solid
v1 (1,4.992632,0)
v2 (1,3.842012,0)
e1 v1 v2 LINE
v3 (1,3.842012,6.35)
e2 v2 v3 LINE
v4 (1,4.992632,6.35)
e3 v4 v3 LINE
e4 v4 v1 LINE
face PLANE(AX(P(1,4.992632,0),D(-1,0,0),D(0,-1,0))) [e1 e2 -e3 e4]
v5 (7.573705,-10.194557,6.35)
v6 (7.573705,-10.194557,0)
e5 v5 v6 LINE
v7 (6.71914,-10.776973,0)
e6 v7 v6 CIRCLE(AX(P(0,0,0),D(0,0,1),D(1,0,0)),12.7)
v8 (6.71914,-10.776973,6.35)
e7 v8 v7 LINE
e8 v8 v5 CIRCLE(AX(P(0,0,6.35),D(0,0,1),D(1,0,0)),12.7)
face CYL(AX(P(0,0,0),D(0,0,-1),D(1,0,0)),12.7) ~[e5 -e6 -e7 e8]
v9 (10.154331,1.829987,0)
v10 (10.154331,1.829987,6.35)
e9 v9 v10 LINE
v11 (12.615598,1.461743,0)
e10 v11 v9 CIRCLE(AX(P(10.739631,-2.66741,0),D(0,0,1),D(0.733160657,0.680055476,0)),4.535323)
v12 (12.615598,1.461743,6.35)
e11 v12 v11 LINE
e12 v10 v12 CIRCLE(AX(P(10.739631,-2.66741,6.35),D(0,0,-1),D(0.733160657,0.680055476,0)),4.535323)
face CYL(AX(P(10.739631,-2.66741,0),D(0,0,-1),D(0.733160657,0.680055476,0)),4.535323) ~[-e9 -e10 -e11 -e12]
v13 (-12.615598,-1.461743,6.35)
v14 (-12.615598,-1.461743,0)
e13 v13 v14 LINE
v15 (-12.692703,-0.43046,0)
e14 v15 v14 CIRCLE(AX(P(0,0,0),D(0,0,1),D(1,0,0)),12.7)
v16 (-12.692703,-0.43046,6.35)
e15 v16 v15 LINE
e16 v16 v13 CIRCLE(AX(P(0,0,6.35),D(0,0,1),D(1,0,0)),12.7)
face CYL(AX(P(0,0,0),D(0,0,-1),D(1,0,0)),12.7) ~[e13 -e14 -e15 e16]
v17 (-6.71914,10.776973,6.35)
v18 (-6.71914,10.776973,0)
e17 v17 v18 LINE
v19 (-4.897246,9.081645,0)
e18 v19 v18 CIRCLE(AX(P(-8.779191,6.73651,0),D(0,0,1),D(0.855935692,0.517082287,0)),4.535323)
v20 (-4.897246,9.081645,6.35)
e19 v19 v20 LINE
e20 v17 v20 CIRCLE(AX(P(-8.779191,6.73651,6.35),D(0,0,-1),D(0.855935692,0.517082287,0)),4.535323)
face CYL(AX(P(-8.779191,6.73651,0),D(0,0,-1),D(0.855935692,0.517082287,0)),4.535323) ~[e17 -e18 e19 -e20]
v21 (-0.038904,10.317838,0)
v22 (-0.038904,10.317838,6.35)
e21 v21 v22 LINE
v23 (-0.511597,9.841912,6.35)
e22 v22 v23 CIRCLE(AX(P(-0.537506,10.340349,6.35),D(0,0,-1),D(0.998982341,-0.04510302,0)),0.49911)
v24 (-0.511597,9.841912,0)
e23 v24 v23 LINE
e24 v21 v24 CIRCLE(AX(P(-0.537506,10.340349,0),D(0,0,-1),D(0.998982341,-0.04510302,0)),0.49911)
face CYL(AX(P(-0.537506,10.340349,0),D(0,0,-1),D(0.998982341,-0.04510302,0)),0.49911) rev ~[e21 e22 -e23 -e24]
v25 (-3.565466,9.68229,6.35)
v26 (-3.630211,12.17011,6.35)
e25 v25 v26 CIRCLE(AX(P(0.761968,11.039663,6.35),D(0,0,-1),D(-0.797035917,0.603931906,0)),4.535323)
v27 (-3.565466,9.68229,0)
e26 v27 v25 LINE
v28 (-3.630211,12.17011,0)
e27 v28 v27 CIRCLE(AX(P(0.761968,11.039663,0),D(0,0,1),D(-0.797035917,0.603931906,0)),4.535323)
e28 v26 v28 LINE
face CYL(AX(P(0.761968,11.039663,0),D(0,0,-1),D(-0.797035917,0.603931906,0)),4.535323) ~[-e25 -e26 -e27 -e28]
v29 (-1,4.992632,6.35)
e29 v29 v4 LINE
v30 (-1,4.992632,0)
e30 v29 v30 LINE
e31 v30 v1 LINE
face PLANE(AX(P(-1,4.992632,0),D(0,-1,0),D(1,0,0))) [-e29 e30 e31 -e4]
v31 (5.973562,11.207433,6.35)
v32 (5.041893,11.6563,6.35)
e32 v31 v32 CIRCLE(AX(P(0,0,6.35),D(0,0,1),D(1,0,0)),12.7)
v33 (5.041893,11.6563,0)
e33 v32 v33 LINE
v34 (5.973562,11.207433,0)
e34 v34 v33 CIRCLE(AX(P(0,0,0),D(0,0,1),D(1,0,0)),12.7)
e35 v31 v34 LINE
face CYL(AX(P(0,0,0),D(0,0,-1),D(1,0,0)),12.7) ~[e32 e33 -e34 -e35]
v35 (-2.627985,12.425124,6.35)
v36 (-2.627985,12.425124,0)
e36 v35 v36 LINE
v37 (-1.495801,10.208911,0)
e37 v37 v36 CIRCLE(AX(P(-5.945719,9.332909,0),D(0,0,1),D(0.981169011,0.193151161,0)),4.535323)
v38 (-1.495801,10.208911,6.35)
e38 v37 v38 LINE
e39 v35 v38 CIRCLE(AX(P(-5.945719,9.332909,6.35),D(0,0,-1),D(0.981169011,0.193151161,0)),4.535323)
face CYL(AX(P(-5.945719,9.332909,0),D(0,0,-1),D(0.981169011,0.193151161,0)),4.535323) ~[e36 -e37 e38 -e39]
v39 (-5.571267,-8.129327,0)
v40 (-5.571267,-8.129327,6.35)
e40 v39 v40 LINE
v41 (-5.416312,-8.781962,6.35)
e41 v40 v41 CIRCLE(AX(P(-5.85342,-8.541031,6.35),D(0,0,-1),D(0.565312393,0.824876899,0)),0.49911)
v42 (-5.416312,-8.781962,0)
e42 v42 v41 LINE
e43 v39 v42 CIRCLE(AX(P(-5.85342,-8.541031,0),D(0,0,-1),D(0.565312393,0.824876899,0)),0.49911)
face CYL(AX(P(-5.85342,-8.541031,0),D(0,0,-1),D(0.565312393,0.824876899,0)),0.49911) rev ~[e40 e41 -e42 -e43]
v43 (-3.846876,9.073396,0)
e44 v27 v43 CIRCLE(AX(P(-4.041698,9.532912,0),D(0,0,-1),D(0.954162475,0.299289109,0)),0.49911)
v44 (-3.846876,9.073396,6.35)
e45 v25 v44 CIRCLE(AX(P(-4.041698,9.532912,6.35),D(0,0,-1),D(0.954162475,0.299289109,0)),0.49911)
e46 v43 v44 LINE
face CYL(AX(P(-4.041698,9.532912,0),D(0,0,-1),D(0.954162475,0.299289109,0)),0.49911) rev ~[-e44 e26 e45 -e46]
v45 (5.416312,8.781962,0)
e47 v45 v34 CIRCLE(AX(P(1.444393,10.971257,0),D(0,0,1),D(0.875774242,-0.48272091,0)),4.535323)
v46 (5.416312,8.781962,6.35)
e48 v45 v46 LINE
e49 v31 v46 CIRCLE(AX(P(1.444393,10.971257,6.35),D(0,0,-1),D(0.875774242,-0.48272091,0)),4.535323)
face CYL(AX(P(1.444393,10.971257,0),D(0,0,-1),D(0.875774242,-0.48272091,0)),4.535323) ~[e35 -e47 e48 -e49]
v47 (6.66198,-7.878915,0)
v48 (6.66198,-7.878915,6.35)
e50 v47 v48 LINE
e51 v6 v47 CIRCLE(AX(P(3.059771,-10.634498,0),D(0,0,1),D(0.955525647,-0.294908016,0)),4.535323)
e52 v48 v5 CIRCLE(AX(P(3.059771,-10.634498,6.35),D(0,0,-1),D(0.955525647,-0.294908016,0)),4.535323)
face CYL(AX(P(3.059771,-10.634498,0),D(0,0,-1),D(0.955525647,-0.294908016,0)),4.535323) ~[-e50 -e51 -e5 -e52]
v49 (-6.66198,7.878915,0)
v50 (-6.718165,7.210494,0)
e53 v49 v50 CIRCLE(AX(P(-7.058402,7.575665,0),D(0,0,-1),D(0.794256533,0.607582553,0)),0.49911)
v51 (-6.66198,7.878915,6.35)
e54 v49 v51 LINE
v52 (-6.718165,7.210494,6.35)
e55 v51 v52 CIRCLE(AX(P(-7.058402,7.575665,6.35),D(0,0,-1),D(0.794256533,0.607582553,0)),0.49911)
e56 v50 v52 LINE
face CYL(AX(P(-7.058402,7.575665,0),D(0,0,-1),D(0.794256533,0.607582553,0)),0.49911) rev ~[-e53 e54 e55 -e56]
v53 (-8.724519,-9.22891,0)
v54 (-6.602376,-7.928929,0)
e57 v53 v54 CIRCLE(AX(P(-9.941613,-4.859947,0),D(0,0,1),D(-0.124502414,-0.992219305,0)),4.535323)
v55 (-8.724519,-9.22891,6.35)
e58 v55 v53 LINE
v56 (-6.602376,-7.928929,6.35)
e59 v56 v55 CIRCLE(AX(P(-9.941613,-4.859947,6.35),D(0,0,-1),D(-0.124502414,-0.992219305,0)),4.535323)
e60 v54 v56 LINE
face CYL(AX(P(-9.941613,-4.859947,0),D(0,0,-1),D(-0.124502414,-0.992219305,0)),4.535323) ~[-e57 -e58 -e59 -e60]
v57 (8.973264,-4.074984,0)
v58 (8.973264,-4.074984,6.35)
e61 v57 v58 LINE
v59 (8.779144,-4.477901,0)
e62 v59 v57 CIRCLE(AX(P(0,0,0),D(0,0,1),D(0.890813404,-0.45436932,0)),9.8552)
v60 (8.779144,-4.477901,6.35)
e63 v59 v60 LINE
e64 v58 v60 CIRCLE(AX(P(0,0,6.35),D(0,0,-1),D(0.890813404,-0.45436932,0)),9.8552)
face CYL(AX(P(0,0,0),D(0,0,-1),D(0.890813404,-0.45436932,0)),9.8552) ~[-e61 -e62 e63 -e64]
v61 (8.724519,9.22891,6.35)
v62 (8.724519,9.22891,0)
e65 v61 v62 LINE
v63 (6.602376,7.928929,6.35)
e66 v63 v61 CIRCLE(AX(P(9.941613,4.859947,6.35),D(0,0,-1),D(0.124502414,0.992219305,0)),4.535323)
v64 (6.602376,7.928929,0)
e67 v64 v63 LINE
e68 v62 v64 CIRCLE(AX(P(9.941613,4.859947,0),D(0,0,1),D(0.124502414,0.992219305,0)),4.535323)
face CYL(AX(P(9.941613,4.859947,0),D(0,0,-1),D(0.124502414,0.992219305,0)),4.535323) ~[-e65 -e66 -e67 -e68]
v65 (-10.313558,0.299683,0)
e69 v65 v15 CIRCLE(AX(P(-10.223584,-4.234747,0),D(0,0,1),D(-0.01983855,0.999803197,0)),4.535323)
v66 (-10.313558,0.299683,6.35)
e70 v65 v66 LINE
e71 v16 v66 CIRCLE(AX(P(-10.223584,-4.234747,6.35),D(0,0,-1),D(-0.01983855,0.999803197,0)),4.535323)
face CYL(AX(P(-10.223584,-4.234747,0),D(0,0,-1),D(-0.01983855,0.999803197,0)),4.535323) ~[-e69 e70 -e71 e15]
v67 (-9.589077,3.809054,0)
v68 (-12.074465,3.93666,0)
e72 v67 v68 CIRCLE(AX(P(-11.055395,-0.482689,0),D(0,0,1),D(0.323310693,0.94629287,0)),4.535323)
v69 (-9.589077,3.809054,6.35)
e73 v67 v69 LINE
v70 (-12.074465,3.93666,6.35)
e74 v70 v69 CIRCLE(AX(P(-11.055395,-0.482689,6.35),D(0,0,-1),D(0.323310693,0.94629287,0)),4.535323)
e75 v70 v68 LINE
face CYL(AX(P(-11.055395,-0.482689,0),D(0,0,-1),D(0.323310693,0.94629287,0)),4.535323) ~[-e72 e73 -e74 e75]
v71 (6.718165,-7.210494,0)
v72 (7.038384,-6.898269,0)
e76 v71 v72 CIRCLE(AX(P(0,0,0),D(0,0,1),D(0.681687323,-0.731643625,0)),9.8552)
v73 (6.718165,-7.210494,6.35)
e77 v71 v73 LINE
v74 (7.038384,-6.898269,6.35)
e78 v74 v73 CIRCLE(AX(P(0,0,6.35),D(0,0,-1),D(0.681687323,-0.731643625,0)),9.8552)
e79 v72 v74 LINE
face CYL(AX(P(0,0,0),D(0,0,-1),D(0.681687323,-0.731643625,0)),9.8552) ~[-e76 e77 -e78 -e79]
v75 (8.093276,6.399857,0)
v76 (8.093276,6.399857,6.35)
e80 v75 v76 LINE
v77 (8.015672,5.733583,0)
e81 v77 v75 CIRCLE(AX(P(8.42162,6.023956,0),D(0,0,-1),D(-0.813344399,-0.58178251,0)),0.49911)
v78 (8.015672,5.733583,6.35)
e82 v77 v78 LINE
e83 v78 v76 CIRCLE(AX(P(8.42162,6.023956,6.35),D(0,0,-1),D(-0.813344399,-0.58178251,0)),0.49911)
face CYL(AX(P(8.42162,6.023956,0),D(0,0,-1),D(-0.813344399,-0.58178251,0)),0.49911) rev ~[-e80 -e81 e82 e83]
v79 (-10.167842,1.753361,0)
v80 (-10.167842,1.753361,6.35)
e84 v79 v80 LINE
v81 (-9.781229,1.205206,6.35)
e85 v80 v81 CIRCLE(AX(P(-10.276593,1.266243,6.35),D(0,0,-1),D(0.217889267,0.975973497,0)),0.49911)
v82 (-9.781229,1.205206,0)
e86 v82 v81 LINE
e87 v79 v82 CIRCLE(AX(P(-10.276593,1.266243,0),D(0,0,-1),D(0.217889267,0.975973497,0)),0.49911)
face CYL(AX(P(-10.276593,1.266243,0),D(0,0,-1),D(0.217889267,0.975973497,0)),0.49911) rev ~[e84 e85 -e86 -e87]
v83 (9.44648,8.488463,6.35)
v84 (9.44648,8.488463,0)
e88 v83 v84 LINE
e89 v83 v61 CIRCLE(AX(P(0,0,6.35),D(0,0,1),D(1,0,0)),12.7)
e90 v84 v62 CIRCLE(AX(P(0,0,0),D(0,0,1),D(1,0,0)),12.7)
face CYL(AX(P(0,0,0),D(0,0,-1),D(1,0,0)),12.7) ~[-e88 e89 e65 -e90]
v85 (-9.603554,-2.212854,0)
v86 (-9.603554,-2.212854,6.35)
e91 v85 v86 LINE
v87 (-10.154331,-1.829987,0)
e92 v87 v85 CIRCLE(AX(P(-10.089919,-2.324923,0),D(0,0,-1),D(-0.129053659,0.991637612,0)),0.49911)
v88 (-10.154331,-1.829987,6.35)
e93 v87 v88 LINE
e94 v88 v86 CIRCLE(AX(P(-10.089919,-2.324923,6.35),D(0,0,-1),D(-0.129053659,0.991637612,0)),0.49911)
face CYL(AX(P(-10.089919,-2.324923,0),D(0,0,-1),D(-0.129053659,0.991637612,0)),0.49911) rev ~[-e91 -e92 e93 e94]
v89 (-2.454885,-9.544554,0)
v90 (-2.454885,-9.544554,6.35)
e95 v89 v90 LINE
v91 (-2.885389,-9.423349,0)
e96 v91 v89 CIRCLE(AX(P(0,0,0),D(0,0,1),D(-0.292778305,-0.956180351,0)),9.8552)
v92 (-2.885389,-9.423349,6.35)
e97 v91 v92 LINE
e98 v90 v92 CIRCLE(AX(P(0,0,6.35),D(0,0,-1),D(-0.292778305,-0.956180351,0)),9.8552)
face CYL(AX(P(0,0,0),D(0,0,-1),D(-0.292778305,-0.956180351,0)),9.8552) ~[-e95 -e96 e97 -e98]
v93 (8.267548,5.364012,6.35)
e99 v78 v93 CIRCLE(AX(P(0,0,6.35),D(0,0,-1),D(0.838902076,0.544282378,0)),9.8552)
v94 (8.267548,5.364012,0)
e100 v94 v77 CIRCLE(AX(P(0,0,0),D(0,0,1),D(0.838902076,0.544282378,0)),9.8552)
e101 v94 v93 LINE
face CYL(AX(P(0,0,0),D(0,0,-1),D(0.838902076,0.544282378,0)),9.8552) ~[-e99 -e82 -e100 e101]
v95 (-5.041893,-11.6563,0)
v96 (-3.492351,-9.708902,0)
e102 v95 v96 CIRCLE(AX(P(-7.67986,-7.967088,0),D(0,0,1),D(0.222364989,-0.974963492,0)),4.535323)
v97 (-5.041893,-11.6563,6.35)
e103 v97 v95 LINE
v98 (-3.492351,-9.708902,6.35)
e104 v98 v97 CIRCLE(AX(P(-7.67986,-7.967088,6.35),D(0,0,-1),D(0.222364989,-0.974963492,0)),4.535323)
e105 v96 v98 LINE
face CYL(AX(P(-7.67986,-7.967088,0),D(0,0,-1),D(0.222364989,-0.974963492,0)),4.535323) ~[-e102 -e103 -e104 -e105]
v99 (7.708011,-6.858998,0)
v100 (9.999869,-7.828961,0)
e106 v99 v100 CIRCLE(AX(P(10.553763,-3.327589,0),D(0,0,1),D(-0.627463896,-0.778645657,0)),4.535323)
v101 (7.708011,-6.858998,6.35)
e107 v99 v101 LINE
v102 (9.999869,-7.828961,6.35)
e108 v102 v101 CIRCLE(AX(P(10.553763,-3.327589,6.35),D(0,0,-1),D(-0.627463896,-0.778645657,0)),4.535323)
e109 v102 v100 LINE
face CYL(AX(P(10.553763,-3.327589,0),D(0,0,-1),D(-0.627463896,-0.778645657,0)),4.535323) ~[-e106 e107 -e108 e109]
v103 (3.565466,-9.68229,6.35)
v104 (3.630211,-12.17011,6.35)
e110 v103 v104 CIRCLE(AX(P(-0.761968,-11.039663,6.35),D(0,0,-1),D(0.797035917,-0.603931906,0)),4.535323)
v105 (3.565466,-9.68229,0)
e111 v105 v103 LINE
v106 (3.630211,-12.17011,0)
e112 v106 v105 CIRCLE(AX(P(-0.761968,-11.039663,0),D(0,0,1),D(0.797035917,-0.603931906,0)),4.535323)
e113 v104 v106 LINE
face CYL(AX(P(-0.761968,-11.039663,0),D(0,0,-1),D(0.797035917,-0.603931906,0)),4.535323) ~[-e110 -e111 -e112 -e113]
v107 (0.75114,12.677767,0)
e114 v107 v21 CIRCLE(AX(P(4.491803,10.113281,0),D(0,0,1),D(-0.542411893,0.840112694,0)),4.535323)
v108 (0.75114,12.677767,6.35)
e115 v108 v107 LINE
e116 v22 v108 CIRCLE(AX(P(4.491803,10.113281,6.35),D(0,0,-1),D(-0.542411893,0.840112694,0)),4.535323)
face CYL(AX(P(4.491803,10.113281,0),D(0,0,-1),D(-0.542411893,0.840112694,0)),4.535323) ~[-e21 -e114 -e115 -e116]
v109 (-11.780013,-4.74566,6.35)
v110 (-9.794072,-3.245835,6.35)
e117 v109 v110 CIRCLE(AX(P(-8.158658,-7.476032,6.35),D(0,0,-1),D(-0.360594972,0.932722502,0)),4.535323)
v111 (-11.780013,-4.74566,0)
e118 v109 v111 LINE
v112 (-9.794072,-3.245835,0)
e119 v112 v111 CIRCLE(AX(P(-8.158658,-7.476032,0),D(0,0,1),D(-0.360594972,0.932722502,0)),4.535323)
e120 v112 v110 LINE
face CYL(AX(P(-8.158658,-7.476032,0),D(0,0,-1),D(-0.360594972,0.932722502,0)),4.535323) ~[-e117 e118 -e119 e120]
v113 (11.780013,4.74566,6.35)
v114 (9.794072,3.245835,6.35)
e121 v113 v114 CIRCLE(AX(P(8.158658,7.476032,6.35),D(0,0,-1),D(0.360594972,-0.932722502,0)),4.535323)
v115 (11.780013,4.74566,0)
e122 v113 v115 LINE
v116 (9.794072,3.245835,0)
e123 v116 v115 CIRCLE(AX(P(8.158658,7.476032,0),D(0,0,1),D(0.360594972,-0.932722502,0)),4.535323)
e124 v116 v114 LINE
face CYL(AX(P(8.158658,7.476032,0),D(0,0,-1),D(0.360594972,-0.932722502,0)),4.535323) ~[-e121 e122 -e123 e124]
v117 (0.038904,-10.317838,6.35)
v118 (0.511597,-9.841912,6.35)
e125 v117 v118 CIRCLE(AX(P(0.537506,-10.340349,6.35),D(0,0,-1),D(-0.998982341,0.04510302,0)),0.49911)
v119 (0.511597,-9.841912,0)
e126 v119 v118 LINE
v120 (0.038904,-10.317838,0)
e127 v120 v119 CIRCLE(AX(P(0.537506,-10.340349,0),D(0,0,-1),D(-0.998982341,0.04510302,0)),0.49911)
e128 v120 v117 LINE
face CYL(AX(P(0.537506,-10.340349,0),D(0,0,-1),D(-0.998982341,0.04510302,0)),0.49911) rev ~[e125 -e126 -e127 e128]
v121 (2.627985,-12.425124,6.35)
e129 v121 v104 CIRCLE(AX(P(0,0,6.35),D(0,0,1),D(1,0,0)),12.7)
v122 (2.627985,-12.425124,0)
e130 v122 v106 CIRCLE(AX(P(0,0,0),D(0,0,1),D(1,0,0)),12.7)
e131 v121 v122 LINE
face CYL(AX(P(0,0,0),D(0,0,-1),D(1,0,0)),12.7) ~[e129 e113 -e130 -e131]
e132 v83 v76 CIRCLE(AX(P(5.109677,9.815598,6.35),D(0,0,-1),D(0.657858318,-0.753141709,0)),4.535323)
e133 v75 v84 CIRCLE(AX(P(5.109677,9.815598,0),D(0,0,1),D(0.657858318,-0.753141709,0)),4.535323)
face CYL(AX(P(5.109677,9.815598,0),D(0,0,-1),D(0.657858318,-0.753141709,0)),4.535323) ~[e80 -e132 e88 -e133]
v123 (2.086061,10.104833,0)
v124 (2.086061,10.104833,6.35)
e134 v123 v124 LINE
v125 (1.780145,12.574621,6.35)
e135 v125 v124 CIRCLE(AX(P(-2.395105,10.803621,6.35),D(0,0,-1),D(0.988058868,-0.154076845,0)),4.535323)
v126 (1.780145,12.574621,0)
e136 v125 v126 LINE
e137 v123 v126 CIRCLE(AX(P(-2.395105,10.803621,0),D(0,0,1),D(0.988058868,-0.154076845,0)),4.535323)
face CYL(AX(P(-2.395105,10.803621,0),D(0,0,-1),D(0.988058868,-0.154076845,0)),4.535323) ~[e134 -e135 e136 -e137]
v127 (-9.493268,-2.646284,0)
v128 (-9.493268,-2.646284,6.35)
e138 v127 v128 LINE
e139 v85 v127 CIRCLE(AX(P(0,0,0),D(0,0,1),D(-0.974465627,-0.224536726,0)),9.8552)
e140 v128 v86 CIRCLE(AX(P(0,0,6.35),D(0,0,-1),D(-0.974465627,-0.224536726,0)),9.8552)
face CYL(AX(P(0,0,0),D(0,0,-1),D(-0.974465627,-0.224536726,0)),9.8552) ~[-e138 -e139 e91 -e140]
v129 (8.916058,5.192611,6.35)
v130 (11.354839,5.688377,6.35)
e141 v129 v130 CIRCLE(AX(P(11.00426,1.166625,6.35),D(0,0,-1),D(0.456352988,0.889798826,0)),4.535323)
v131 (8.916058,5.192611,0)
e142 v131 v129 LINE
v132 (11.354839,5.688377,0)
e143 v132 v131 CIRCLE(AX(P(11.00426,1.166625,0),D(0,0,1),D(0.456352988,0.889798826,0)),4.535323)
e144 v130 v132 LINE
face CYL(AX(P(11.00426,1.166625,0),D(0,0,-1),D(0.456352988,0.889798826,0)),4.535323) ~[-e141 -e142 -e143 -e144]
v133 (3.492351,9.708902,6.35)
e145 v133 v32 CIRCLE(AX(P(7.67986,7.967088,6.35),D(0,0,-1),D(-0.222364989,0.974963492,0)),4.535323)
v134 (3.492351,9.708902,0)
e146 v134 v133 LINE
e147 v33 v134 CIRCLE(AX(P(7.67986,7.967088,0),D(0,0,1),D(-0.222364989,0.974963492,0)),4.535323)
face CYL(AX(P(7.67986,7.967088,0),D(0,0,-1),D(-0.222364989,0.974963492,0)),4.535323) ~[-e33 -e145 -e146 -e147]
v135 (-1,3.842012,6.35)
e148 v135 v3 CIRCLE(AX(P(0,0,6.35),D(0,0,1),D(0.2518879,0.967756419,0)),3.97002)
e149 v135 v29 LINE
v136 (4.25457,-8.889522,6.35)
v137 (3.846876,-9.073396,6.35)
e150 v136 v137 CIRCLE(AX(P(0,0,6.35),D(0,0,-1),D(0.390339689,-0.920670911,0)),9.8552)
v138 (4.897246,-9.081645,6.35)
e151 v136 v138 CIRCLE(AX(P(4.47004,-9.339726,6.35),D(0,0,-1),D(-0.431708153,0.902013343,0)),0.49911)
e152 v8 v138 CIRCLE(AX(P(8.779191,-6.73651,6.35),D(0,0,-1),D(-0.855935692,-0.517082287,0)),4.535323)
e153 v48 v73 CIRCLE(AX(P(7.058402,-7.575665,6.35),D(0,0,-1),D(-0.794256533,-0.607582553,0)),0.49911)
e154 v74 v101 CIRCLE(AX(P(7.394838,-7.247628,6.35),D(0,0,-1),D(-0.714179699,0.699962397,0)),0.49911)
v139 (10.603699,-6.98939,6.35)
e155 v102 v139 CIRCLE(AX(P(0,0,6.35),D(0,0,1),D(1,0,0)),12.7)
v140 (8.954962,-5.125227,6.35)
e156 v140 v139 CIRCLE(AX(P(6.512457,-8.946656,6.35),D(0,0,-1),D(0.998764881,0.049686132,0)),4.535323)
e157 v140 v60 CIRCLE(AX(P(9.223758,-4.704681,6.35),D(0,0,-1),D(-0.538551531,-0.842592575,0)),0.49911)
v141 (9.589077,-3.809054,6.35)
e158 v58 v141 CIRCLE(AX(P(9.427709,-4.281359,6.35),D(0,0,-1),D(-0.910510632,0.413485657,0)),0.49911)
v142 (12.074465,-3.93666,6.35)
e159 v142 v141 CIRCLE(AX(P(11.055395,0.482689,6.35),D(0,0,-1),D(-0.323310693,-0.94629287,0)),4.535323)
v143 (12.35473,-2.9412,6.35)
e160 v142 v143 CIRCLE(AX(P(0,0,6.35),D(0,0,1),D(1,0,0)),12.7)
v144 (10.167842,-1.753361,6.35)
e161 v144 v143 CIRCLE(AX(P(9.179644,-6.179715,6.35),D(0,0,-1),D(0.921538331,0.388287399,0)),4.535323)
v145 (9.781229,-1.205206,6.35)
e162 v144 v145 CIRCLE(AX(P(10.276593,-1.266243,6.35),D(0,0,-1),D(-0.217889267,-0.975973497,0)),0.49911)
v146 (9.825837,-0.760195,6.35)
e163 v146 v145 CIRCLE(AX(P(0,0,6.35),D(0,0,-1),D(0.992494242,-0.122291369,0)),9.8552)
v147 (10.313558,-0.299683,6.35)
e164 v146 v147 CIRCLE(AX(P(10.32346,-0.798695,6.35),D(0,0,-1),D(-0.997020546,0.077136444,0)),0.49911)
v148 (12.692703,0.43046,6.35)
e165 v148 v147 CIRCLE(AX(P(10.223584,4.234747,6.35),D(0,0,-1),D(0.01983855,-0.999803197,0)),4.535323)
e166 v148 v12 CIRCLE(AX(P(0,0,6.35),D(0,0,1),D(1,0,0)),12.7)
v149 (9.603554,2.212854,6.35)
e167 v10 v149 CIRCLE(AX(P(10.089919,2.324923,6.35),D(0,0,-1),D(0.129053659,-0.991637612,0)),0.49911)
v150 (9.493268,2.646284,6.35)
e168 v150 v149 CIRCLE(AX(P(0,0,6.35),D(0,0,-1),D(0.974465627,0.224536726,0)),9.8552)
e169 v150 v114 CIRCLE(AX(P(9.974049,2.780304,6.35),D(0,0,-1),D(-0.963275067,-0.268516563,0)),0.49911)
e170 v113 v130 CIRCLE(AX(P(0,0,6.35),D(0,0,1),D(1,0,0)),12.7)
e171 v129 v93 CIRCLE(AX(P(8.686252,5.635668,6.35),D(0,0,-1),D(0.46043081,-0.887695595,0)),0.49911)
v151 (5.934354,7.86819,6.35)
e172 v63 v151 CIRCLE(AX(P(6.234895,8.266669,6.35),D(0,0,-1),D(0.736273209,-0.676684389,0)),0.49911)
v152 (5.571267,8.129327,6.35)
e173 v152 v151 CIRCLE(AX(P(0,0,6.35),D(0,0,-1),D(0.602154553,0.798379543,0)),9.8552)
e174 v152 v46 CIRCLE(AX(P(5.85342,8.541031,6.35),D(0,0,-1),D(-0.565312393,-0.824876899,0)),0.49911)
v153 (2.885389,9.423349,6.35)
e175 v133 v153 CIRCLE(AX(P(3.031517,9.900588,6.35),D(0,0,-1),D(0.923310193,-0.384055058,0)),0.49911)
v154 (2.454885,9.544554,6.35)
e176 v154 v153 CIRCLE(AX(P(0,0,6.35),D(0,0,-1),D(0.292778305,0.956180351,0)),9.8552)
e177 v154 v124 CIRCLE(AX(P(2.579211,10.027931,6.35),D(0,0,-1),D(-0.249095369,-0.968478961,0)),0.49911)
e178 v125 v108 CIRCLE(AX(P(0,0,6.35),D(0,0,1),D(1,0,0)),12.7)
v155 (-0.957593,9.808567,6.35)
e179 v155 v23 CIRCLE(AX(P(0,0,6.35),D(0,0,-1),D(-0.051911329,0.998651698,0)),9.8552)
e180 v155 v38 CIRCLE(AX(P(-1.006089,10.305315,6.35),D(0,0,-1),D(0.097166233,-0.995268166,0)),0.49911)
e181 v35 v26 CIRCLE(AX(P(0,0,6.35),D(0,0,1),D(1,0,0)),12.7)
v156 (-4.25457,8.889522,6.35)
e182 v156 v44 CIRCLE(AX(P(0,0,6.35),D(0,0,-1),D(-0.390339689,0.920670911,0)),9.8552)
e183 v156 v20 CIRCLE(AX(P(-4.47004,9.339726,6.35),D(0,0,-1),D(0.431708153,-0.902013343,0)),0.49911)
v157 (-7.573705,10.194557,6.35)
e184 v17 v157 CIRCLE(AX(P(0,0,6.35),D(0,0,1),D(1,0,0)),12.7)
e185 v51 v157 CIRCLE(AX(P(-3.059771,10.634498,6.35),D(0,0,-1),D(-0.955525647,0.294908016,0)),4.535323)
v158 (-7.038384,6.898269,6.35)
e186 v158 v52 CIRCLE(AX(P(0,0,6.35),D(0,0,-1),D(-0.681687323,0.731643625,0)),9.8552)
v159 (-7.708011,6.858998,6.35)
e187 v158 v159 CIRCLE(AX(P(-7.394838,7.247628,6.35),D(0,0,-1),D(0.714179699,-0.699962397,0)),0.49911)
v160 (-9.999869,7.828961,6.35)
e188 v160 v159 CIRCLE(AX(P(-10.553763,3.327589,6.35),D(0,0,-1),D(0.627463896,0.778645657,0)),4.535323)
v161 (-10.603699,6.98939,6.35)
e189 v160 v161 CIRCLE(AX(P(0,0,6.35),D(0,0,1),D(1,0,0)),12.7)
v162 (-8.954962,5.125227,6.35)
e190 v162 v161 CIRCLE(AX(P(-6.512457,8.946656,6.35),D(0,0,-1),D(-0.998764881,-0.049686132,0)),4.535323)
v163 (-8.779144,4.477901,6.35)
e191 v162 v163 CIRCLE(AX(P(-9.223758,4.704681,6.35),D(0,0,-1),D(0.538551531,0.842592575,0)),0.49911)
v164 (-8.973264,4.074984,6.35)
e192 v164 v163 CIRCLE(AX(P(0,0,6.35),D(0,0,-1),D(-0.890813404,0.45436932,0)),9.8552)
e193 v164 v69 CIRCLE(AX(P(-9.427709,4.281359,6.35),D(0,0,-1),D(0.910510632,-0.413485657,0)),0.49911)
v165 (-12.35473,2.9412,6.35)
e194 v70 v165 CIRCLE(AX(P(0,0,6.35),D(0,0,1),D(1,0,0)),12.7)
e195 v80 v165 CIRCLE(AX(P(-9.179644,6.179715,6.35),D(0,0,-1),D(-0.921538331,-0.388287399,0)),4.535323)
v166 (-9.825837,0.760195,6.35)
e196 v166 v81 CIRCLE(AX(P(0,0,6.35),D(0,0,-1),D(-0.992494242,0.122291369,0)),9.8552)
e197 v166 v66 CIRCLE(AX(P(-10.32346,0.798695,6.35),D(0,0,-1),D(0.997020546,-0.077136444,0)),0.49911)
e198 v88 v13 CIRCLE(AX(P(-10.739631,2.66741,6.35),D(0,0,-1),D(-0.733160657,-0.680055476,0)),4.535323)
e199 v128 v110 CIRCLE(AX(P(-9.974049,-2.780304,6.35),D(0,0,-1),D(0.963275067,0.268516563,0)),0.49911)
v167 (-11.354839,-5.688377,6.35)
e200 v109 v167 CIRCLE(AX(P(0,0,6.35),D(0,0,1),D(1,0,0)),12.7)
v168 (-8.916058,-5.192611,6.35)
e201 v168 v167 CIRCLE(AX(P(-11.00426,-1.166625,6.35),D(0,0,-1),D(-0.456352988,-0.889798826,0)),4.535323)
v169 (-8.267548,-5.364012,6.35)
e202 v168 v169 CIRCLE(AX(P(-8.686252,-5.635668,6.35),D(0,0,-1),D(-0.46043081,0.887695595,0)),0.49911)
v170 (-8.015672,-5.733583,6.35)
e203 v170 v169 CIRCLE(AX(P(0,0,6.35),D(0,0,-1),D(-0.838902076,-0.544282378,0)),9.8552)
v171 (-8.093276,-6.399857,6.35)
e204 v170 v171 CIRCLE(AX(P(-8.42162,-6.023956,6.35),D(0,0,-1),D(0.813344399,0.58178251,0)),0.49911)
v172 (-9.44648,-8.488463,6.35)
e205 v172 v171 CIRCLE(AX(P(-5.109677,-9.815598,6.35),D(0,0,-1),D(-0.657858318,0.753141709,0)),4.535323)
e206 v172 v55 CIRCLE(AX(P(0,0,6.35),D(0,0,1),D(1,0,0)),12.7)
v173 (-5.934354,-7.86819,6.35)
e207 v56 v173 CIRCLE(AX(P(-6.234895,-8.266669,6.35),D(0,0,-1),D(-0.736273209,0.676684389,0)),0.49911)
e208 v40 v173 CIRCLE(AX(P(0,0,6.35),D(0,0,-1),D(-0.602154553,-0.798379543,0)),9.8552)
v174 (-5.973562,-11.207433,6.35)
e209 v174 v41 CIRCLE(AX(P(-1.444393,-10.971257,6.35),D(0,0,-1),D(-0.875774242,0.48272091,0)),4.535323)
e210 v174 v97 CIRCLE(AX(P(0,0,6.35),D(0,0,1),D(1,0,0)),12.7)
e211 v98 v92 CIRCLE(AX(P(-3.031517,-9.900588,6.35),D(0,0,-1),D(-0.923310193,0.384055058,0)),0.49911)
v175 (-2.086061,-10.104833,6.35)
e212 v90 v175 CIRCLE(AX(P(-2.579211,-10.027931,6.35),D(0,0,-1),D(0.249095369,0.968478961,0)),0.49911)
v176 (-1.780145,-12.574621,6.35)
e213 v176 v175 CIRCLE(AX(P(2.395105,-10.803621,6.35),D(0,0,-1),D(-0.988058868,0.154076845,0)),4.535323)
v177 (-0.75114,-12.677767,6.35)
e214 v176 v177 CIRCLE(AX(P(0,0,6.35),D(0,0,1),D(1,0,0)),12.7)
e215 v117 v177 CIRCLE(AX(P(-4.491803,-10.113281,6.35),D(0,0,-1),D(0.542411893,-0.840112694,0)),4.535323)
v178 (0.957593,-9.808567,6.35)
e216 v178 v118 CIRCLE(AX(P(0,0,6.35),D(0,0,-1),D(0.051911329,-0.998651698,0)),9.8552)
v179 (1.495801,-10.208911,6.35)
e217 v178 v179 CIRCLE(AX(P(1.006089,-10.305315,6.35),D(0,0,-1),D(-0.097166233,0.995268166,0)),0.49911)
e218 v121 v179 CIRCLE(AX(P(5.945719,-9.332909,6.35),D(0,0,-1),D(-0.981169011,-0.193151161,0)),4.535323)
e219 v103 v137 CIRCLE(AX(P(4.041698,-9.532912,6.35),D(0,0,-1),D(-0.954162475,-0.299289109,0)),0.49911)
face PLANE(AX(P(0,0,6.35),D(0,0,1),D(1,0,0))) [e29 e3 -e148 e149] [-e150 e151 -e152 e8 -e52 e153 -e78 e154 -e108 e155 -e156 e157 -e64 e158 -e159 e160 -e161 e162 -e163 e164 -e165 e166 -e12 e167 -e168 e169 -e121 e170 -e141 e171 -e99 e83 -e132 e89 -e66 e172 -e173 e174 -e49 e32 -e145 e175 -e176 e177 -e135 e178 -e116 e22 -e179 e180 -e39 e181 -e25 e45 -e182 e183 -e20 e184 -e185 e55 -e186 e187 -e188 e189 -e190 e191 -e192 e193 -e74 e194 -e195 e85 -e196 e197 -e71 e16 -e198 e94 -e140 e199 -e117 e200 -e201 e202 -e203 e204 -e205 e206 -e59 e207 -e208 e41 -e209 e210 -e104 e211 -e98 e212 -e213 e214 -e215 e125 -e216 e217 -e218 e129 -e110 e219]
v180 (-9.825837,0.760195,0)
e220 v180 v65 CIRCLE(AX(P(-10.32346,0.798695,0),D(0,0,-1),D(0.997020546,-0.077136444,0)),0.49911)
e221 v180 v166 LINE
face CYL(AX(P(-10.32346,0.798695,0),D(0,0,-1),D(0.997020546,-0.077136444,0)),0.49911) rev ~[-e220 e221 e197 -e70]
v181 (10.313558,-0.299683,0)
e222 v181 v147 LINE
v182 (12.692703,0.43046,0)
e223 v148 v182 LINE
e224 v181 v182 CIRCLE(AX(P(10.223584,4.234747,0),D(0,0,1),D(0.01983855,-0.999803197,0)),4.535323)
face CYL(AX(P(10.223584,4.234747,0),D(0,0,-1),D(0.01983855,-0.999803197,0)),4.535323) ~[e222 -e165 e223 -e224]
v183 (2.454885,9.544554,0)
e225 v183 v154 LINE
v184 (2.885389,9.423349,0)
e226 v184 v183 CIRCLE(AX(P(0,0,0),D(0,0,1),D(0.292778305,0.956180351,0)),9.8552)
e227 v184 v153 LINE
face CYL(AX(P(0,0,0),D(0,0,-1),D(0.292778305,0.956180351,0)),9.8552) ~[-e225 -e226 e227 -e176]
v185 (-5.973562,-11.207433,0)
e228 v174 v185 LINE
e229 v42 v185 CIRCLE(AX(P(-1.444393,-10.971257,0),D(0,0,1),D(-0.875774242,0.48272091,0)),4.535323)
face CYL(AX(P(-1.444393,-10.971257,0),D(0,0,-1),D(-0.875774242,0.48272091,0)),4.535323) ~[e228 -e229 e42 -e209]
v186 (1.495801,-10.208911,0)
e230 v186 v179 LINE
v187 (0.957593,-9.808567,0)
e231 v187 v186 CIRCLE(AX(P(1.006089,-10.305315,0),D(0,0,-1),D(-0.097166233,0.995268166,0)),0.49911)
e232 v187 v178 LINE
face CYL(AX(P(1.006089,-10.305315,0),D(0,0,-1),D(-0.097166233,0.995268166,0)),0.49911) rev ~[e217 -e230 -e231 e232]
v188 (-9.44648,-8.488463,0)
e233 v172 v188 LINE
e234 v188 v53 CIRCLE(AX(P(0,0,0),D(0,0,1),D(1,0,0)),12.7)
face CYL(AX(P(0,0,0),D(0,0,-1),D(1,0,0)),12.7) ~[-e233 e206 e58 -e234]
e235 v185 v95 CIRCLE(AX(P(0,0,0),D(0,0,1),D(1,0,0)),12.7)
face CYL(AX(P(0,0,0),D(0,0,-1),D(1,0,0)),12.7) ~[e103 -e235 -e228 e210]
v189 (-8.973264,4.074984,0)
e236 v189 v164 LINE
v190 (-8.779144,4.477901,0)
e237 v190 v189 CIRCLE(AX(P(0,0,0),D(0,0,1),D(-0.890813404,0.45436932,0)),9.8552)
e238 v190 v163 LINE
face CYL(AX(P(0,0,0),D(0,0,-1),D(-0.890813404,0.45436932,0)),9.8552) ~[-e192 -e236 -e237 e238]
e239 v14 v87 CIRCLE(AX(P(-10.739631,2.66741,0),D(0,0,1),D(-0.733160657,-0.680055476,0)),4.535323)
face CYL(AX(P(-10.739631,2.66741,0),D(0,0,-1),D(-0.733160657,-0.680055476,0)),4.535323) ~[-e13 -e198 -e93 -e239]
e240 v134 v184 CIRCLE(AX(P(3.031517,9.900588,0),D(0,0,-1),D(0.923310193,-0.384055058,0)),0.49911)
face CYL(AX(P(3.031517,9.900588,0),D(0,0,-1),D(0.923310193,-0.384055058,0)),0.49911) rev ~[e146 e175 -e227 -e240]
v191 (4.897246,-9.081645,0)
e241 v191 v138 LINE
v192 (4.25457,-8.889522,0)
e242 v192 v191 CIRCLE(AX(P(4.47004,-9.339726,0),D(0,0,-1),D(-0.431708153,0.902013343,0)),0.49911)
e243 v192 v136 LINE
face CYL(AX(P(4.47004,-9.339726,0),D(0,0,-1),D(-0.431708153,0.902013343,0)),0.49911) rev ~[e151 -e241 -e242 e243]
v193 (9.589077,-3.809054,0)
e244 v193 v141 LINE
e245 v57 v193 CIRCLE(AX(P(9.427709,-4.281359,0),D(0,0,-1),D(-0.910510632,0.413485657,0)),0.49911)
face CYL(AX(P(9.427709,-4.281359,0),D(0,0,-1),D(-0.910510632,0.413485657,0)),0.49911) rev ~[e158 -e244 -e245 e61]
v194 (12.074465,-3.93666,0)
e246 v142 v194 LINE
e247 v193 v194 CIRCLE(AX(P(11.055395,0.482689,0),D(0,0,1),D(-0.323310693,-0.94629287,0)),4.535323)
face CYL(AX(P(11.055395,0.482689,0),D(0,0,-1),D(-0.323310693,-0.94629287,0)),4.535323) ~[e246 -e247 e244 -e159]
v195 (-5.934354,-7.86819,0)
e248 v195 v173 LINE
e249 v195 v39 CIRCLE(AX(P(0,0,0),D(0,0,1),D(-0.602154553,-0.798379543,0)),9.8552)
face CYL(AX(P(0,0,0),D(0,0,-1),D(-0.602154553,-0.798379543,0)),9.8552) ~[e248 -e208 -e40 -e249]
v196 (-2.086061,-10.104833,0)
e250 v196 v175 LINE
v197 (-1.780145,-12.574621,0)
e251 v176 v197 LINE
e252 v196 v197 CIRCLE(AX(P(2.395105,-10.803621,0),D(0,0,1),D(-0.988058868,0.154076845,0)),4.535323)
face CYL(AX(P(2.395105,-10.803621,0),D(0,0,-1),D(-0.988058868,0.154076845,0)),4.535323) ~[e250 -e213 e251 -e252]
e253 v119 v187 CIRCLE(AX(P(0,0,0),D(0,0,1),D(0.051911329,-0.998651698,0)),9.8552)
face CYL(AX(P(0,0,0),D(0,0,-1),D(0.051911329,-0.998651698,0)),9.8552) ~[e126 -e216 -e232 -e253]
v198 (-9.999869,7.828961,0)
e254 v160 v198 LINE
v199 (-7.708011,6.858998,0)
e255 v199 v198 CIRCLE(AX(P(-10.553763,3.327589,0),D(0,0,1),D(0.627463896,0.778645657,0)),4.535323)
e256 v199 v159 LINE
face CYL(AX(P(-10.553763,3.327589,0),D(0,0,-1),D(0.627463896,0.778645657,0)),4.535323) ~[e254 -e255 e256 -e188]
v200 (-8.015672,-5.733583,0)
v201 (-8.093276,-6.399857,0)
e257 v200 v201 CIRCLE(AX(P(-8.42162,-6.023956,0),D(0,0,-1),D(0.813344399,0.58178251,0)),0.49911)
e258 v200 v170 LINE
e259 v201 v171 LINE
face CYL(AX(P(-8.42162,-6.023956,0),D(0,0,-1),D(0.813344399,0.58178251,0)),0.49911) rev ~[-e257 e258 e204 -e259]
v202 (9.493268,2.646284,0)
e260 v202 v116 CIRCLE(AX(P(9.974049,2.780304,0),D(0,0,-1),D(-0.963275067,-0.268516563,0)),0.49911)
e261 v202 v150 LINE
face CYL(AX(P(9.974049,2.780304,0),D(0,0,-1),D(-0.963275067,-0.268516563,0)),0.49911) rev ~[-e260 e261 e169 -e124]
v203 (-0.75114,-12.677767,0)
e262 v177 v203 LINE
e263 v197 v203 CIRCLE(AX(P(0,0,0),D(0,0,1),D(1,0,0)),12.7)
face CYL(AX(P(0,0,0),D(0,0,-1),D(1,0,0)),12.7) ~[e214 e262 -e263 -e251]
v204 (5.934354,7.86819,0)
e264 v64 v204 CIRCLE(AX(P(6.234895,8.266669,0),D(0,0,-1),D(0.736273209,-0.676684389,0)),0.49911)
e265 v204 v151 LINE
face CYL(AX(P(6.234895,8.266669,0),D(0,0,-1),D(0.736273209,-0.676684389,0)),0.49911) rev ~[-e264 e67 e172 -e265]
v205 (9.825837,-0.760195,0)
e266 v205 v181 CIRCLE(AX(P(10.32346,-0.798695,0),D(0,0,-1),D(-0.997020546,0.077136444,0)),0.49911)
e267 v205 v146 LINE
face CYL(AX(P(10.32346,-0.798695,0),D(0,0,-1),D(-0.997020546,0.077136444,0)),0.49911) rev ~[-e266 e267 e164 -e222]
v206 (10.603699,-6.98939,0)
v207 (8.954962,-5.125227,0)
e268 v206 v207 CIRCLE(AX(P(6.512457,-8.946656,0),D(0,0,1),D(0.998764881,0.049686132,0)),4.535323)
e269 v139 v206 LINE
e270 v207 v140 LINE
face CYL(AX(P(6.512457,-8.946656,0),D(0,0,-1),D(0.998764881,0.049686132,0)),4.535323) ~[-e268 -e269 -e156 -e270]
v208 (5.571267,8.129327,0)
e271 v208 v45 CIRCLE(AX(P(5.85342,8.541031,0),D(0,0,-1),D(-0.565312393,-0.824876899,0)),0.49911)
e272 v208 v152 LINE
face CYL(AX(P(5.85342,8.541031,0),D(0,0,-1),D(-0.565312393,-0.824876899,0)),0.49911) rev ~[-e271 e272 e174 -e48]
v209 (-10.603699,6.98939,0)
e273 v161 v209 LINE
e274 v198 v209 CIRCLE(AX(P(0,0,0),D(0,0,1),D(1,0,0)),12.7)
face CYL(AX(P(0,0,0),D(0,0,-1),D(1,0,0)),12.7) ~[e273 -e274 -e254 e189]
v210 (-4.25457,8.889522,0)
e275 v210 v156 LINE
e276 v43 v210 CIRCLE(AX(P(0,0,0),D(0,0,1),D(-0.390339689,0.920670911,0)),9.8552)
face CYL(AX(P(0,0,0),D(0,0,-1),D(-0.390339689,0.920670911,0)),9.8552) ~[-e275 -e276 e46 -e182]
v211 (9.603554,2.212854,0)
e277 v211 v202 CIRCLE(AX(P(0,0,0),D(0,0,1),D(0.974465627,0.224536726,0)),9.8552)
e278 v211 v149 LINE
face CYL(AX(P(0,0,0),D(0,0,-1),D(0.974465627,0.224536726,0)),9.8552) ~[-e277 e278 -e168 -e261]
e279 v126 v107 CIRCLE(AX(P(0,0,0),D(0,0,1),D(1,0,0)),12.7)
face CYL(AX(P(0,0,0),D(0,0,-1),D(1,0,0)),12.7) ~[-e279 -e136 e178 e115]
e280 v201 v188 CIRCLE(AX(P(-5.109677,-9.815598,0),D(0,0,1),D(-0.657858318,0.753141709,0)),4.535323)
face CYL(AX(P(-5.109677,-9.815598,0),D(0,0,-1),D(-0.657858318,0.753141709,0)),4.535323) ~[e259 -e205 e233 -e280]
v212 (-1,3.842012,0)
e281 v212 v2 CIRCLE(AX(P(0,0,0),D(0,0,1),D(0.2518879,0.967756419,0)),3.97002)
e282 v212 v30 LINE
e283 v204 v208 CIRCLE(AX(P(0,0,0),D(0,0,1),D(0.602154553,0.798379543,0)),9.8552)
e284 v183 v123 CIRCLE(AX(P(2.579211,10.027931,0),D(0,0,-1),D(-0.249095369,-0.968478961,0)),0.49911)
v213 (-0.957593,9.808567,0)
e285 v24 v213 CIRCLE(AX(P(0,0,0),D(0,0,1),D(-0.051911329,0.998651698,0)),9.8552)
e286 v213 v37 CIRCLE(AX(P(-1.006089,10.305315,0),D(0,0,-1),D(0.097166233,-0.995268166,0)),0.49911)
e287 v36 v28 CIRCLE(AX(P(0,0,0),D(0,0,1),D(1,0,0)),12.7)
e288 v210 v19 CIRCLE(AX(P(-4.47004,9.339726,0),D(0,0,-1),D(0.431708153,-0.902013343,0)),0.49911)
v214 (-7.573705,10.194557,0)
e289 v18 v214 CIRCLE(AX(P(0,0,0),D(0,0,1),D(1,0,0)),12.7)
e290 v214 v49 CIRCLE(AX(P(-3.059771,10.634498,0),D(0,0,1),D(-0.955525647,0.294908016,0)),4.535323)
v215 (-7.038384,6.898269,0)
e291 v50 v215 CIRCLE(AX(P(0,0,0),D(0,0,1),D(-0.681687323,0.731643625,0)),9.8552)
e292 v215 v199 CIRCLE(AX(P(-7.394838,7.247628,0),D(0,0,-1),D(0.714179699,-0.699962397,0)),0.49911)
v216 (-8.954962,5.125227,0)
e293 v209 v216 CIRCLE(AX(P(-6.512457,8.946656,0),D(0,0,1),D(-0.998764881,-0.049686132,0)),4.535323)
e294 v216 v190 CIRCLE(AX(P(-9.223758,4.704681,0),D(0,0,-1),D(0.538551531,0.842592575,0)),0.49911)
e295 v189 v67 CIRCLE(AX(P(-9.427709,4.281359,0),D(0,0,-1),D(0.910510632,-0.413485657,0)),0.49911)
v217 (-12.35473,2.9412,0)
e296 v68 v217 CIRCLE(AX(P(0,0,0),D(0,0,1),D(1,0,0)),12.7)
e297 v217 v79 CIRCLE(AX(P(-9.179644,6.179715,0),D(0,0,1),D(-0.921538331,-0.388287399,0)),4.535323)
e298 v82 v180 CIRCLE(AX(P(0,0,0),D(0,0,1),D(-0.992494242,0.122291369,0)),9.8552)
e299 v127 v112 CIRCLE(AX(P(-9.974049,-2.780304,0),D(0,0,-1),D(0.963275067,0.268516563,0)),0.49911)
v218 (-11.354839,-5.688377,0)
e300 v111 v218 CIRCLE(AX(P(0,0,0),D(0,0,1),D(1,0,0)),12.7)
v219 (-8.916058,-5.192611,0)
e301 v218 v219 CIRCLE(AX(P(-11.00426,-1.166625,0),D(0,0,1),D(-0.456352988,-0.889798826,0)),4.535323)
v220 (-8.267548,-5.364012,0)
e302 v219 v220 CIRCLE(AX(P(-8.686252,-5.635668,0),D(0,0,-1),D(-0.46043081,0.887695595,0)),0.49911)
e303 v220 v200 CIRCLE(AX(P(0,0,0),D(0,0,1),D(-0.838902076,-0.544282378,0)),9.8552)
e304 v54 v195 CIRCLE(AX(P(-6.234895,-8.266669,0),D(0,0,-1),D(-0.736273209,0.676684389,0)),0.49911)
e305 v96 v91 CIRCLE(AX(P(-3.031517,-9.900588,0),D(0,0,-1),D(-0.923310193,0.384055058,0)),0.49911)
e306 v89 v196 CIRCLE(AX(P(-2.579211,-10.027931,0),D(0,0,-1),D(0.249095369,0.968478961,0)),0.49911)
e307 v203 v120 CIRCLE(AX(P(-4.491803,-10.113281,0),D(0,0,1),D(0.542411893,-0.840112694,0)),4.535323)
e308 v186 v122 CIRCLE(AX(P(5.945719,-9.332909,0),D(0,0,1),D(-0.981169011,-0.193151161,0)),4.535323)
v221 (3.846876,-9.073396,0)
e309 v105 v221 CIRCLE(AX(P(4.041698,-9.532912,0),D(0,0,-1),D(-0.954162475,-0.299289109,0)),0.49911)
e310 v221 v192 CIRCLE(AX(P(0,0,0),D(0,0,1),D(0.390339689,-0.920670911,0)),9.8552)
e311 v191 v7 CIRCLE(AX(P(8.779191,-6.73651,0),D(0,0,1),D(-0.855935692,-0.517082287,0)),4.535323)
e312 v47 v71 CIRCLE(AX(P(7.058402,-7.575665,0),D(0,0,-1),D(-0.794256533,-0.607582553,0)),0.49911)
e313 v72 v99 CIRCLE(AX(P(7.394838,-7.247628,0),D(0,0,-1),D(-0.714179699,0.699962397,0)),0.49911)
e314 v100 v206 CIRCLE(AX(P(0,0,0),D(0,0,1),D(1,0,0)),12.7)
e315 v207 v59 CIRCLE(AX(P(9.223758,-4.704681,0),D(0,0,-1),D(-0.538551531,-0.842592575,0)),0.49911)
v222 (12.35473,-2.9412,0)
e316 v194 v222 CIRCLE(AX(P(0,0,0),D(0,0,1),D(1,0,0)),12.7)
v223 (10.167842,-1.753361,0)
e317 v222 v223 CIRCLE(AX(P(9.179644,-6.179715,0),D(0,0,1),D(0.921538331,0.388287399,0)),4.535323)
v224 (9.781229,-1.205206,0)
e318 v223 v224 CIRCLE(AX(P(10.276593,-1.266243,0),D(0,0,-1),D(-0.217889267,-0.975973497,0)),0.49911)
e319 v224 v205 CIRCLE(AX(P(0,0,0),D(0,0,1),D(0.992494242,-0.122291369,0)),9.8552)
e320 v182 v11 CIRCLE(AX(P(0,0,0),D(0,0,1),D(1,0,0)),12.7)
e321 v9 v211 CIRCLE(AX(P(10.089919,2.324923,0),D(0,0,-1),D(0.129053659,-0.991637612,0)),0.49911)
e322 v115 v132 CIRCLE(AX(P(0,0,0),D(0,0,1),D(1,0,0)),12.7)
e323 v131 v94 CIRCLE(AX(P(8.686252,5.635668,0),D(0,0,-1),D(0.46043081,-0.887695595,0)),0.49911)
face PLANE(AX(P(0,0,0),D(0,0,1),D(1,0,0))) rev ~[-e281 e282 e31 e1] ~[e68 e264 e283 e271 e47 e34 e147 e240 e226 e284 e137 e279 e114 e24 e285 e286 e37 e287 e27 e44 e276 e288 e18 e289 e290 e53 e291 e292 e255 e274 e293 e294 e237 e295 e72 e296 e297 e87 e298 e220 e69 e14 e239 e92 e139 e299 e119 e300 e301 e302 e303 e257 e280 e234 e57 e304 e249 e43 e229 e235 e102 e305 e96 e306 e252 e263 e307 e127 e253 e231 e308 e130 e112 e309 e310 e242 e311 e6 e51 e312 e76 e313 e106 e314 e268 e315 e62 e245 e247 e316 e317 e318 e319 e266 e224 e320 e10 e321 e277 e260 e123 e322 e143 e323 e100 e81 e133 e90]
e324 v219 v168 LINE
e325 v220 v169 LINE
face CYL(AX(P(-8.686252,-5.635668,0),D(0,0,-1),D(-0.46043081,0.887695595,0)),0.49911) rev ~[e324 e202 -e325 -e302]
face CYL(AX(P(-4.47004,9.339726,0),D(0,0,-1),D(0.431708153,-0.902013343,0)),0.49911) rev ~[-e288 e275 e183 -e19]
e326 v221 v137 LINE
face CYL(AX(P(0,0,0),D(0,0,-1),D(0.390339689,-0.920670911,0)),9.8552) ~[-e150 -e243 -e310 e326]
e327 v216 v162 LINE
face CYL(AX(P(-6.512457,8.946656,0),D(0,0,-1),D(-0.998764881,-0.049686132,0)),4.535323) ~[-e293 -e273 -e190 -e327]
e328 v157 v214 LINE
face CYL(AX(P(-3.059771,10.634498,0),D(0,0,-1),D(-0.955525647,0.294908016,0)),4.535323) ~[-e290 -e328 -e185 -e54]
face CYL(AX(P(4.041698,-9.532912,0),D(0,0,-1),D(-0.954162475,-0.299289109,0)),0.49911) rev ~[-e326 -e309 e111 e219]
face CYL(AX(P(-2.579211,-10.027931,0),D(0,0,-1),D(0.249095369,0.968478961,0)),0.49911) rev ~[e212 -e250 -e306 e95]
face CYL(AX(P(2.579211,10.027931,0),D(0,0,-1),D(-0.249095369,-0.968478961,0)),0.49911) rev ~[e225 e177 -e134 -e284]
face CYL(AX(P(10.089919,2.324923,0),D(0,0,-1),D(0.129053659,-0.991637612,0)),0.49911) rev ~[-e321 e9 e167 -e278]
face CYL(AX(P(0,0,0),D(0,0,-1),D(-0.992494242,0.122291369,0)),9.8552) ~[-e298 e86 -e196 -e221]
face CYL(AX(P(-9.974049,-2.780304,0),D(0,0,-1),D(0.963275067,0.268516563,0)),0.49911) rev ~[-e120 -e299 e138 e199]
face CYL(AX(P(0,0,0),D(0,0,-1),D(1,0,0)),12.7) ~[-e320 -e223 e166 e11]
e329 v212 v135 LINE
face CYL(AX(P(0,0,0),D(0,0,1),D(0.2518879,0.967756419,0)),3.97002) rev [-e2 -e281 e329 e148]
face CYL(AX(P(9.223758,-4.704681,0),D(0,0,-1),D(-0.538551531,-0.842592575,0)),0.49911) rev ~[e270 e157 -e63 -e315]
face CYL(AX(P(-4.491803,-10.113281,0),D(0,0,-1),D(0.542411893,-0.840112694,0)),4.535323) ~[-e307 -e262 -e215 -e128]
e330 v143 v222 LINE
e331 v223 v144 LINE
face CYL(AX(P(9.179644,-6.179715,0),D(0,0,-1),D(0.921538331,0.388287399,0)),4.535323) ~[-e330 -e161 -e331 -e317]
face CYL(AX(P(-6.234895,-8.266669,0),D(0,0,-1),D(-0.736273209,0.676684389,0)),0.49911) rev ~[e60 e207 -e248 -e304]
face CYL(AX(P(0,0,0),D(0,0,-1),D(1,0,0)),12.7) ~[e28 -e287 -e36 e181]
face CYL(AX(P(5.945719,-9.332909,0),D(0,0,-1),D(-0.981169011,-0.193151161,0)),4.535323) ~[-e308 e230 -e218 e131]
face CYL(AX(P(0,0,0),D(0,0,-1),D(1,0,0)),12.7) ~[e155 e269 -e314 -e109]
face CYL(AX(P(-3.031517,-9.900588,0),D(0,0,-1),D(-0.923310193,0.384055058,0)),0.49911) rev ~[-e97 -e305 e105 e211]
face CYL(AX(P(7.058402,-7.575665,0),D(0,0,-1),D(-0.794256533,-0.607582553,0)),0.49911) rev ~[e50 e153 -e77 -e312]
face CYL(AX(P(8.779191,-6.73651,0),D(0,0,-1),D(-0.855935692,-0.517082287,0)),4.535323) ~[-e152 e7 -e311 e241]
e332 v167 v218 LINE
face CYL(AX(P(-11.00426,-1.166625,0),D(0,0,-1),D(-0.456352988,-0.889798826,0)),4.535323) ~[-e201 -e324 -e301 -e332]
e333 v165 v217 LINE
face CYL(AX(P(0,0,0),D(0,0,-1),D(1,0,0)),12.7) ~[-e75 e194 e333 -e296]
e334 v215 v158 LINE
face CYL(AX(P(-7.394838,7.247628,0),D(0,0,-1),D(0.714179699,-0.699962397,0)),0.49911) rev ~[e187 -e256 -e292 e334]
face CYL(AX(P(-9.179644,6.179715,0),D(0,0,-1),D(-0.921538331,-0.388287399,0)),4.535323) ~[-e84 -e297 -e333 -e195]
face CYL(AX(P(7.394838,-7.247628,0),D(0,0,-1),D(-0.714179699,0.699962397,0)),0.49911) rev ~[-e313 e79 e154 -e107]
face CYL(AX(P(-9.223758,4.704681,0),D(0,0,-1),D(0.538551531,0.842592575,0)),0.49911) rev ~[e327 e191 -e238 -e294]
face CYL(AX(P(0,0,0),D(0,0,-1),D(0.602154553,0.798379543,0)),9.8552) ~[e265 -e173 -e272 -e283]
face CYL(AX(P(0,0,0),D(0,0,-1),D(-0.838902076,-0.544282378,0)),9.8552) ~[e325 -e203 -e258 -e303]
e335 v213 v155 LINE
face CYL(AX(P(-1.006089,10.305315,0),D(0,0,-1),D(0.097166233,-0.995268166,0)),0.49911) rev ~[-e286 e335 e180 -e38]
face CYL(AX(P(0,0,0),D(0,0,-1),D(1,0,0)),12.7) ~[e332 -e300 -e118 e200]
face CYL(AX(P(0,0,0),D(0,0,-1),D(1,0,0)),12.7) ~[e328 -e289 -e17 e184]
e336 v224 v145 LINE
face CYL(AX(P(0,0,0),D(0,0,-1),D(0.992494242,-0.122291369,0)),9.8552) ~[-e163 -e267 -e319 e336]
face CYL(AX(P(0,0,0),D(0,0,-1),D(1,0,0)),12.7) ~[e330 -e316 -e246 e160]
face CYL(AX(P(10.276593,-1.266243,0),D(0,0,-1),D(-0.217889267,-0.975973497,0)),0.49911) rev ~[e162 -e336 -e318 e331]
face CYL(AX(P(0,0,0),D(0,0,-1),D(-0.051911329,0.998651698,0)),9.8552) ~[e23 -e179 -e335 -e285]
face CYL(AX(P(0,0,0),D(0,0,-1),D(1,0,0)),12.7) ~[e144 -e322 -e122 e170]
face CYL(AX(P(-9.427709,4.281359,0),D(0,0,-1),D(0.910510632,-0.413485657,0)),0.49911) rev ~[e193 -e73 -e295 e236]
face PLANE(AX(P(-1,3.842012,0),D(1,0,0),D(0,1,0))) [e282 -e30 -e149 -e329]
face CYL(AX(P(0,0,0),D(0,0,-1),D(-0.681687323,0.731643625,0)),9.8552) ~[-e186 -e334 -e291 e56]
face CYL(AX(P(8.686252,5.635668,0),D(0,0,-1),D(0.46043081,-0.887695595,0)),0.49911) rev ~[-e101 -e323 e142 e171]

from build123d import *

# Parameters (mm, degrees)
SKETCH3_R         = 12.7
GEARBODY_DEPTH    = 6.35
TOOTHCUT_DEPTH    = 7.35
CIRPATTERN1_COUNT = 18
BORE_DEPTH        = 12.7


with BuildPart() as part:
    # Sketch3 → gearBody (new body)
    with BuildSketch(Plane.XY):
        Circle(SKETCH3_R)
    extrude(amount=GEARBODY_DEPTH)

    # Sketch2 → toothCut (cut, through all)
    with BuildSketch(Plane.XY):
        with BuildLine():
            ThreePointArc((9.781229257, -1.205205904), (9.806057787, -0.982953571), (9.825836884, -0.760195085))
            ThreePointArc((9.825836884, -0.760195085), (9.980803767, -0.435792976), (10.31355819, -0.299682883))
            ThreePointArc((10.31355819, -0.299682883), (12.38209996, 0.246018063), (13.970369973, 1.679214819))
            ThreePointArc((13.970369973, 1.679214819), (14.000763839, -1.403428484), (13.359117821, -4.418706897))
            ThreePointArc((13.359117821, -4.418706897), (12.0869153, -2.698778026), (10.167842346, -1.753360882))
            ThreePointArc((10.167842346, -1.753360882), (9.868724138, -1.553912241), (9.781229257, -1.205205904))
        make_face()
    toothcut = extrude(amount=TOOTHCUT_DEPTH, mode=Mode.SUBTRACT)

    # CirPattern1: toothCut ×18 about axis
    cirpattern1_axis = Axis((0, 0, 0), (0, 0, 1))
    for i in range(1, CIRPATTERN1_COUNT):
        add(toothcut.rotate(cirpattern1_axis, i * 360 / CIRPATTERN1_COUNT), mode=Mode.SUBTRACT)

    # boreDia → bore (cut, symmetric)
    with BuildSketch(Plane.XY):
        with BuildLine():
            Line((-1, 3.842012337), (-1, 4.992632337))
            Line((-1, 4.992632337), (1, 4.992632337))
            Line((1, 4.992632337), (1, 3.842012337))
            ThreePointArc((1, 3.842012337), (0, -3.97002), (-1, 3.842012337))
        make_face()
    extrude(amount=BORE_DEPTH, both=True, mode=Mode.SUBTRACT)


solid = part.part
